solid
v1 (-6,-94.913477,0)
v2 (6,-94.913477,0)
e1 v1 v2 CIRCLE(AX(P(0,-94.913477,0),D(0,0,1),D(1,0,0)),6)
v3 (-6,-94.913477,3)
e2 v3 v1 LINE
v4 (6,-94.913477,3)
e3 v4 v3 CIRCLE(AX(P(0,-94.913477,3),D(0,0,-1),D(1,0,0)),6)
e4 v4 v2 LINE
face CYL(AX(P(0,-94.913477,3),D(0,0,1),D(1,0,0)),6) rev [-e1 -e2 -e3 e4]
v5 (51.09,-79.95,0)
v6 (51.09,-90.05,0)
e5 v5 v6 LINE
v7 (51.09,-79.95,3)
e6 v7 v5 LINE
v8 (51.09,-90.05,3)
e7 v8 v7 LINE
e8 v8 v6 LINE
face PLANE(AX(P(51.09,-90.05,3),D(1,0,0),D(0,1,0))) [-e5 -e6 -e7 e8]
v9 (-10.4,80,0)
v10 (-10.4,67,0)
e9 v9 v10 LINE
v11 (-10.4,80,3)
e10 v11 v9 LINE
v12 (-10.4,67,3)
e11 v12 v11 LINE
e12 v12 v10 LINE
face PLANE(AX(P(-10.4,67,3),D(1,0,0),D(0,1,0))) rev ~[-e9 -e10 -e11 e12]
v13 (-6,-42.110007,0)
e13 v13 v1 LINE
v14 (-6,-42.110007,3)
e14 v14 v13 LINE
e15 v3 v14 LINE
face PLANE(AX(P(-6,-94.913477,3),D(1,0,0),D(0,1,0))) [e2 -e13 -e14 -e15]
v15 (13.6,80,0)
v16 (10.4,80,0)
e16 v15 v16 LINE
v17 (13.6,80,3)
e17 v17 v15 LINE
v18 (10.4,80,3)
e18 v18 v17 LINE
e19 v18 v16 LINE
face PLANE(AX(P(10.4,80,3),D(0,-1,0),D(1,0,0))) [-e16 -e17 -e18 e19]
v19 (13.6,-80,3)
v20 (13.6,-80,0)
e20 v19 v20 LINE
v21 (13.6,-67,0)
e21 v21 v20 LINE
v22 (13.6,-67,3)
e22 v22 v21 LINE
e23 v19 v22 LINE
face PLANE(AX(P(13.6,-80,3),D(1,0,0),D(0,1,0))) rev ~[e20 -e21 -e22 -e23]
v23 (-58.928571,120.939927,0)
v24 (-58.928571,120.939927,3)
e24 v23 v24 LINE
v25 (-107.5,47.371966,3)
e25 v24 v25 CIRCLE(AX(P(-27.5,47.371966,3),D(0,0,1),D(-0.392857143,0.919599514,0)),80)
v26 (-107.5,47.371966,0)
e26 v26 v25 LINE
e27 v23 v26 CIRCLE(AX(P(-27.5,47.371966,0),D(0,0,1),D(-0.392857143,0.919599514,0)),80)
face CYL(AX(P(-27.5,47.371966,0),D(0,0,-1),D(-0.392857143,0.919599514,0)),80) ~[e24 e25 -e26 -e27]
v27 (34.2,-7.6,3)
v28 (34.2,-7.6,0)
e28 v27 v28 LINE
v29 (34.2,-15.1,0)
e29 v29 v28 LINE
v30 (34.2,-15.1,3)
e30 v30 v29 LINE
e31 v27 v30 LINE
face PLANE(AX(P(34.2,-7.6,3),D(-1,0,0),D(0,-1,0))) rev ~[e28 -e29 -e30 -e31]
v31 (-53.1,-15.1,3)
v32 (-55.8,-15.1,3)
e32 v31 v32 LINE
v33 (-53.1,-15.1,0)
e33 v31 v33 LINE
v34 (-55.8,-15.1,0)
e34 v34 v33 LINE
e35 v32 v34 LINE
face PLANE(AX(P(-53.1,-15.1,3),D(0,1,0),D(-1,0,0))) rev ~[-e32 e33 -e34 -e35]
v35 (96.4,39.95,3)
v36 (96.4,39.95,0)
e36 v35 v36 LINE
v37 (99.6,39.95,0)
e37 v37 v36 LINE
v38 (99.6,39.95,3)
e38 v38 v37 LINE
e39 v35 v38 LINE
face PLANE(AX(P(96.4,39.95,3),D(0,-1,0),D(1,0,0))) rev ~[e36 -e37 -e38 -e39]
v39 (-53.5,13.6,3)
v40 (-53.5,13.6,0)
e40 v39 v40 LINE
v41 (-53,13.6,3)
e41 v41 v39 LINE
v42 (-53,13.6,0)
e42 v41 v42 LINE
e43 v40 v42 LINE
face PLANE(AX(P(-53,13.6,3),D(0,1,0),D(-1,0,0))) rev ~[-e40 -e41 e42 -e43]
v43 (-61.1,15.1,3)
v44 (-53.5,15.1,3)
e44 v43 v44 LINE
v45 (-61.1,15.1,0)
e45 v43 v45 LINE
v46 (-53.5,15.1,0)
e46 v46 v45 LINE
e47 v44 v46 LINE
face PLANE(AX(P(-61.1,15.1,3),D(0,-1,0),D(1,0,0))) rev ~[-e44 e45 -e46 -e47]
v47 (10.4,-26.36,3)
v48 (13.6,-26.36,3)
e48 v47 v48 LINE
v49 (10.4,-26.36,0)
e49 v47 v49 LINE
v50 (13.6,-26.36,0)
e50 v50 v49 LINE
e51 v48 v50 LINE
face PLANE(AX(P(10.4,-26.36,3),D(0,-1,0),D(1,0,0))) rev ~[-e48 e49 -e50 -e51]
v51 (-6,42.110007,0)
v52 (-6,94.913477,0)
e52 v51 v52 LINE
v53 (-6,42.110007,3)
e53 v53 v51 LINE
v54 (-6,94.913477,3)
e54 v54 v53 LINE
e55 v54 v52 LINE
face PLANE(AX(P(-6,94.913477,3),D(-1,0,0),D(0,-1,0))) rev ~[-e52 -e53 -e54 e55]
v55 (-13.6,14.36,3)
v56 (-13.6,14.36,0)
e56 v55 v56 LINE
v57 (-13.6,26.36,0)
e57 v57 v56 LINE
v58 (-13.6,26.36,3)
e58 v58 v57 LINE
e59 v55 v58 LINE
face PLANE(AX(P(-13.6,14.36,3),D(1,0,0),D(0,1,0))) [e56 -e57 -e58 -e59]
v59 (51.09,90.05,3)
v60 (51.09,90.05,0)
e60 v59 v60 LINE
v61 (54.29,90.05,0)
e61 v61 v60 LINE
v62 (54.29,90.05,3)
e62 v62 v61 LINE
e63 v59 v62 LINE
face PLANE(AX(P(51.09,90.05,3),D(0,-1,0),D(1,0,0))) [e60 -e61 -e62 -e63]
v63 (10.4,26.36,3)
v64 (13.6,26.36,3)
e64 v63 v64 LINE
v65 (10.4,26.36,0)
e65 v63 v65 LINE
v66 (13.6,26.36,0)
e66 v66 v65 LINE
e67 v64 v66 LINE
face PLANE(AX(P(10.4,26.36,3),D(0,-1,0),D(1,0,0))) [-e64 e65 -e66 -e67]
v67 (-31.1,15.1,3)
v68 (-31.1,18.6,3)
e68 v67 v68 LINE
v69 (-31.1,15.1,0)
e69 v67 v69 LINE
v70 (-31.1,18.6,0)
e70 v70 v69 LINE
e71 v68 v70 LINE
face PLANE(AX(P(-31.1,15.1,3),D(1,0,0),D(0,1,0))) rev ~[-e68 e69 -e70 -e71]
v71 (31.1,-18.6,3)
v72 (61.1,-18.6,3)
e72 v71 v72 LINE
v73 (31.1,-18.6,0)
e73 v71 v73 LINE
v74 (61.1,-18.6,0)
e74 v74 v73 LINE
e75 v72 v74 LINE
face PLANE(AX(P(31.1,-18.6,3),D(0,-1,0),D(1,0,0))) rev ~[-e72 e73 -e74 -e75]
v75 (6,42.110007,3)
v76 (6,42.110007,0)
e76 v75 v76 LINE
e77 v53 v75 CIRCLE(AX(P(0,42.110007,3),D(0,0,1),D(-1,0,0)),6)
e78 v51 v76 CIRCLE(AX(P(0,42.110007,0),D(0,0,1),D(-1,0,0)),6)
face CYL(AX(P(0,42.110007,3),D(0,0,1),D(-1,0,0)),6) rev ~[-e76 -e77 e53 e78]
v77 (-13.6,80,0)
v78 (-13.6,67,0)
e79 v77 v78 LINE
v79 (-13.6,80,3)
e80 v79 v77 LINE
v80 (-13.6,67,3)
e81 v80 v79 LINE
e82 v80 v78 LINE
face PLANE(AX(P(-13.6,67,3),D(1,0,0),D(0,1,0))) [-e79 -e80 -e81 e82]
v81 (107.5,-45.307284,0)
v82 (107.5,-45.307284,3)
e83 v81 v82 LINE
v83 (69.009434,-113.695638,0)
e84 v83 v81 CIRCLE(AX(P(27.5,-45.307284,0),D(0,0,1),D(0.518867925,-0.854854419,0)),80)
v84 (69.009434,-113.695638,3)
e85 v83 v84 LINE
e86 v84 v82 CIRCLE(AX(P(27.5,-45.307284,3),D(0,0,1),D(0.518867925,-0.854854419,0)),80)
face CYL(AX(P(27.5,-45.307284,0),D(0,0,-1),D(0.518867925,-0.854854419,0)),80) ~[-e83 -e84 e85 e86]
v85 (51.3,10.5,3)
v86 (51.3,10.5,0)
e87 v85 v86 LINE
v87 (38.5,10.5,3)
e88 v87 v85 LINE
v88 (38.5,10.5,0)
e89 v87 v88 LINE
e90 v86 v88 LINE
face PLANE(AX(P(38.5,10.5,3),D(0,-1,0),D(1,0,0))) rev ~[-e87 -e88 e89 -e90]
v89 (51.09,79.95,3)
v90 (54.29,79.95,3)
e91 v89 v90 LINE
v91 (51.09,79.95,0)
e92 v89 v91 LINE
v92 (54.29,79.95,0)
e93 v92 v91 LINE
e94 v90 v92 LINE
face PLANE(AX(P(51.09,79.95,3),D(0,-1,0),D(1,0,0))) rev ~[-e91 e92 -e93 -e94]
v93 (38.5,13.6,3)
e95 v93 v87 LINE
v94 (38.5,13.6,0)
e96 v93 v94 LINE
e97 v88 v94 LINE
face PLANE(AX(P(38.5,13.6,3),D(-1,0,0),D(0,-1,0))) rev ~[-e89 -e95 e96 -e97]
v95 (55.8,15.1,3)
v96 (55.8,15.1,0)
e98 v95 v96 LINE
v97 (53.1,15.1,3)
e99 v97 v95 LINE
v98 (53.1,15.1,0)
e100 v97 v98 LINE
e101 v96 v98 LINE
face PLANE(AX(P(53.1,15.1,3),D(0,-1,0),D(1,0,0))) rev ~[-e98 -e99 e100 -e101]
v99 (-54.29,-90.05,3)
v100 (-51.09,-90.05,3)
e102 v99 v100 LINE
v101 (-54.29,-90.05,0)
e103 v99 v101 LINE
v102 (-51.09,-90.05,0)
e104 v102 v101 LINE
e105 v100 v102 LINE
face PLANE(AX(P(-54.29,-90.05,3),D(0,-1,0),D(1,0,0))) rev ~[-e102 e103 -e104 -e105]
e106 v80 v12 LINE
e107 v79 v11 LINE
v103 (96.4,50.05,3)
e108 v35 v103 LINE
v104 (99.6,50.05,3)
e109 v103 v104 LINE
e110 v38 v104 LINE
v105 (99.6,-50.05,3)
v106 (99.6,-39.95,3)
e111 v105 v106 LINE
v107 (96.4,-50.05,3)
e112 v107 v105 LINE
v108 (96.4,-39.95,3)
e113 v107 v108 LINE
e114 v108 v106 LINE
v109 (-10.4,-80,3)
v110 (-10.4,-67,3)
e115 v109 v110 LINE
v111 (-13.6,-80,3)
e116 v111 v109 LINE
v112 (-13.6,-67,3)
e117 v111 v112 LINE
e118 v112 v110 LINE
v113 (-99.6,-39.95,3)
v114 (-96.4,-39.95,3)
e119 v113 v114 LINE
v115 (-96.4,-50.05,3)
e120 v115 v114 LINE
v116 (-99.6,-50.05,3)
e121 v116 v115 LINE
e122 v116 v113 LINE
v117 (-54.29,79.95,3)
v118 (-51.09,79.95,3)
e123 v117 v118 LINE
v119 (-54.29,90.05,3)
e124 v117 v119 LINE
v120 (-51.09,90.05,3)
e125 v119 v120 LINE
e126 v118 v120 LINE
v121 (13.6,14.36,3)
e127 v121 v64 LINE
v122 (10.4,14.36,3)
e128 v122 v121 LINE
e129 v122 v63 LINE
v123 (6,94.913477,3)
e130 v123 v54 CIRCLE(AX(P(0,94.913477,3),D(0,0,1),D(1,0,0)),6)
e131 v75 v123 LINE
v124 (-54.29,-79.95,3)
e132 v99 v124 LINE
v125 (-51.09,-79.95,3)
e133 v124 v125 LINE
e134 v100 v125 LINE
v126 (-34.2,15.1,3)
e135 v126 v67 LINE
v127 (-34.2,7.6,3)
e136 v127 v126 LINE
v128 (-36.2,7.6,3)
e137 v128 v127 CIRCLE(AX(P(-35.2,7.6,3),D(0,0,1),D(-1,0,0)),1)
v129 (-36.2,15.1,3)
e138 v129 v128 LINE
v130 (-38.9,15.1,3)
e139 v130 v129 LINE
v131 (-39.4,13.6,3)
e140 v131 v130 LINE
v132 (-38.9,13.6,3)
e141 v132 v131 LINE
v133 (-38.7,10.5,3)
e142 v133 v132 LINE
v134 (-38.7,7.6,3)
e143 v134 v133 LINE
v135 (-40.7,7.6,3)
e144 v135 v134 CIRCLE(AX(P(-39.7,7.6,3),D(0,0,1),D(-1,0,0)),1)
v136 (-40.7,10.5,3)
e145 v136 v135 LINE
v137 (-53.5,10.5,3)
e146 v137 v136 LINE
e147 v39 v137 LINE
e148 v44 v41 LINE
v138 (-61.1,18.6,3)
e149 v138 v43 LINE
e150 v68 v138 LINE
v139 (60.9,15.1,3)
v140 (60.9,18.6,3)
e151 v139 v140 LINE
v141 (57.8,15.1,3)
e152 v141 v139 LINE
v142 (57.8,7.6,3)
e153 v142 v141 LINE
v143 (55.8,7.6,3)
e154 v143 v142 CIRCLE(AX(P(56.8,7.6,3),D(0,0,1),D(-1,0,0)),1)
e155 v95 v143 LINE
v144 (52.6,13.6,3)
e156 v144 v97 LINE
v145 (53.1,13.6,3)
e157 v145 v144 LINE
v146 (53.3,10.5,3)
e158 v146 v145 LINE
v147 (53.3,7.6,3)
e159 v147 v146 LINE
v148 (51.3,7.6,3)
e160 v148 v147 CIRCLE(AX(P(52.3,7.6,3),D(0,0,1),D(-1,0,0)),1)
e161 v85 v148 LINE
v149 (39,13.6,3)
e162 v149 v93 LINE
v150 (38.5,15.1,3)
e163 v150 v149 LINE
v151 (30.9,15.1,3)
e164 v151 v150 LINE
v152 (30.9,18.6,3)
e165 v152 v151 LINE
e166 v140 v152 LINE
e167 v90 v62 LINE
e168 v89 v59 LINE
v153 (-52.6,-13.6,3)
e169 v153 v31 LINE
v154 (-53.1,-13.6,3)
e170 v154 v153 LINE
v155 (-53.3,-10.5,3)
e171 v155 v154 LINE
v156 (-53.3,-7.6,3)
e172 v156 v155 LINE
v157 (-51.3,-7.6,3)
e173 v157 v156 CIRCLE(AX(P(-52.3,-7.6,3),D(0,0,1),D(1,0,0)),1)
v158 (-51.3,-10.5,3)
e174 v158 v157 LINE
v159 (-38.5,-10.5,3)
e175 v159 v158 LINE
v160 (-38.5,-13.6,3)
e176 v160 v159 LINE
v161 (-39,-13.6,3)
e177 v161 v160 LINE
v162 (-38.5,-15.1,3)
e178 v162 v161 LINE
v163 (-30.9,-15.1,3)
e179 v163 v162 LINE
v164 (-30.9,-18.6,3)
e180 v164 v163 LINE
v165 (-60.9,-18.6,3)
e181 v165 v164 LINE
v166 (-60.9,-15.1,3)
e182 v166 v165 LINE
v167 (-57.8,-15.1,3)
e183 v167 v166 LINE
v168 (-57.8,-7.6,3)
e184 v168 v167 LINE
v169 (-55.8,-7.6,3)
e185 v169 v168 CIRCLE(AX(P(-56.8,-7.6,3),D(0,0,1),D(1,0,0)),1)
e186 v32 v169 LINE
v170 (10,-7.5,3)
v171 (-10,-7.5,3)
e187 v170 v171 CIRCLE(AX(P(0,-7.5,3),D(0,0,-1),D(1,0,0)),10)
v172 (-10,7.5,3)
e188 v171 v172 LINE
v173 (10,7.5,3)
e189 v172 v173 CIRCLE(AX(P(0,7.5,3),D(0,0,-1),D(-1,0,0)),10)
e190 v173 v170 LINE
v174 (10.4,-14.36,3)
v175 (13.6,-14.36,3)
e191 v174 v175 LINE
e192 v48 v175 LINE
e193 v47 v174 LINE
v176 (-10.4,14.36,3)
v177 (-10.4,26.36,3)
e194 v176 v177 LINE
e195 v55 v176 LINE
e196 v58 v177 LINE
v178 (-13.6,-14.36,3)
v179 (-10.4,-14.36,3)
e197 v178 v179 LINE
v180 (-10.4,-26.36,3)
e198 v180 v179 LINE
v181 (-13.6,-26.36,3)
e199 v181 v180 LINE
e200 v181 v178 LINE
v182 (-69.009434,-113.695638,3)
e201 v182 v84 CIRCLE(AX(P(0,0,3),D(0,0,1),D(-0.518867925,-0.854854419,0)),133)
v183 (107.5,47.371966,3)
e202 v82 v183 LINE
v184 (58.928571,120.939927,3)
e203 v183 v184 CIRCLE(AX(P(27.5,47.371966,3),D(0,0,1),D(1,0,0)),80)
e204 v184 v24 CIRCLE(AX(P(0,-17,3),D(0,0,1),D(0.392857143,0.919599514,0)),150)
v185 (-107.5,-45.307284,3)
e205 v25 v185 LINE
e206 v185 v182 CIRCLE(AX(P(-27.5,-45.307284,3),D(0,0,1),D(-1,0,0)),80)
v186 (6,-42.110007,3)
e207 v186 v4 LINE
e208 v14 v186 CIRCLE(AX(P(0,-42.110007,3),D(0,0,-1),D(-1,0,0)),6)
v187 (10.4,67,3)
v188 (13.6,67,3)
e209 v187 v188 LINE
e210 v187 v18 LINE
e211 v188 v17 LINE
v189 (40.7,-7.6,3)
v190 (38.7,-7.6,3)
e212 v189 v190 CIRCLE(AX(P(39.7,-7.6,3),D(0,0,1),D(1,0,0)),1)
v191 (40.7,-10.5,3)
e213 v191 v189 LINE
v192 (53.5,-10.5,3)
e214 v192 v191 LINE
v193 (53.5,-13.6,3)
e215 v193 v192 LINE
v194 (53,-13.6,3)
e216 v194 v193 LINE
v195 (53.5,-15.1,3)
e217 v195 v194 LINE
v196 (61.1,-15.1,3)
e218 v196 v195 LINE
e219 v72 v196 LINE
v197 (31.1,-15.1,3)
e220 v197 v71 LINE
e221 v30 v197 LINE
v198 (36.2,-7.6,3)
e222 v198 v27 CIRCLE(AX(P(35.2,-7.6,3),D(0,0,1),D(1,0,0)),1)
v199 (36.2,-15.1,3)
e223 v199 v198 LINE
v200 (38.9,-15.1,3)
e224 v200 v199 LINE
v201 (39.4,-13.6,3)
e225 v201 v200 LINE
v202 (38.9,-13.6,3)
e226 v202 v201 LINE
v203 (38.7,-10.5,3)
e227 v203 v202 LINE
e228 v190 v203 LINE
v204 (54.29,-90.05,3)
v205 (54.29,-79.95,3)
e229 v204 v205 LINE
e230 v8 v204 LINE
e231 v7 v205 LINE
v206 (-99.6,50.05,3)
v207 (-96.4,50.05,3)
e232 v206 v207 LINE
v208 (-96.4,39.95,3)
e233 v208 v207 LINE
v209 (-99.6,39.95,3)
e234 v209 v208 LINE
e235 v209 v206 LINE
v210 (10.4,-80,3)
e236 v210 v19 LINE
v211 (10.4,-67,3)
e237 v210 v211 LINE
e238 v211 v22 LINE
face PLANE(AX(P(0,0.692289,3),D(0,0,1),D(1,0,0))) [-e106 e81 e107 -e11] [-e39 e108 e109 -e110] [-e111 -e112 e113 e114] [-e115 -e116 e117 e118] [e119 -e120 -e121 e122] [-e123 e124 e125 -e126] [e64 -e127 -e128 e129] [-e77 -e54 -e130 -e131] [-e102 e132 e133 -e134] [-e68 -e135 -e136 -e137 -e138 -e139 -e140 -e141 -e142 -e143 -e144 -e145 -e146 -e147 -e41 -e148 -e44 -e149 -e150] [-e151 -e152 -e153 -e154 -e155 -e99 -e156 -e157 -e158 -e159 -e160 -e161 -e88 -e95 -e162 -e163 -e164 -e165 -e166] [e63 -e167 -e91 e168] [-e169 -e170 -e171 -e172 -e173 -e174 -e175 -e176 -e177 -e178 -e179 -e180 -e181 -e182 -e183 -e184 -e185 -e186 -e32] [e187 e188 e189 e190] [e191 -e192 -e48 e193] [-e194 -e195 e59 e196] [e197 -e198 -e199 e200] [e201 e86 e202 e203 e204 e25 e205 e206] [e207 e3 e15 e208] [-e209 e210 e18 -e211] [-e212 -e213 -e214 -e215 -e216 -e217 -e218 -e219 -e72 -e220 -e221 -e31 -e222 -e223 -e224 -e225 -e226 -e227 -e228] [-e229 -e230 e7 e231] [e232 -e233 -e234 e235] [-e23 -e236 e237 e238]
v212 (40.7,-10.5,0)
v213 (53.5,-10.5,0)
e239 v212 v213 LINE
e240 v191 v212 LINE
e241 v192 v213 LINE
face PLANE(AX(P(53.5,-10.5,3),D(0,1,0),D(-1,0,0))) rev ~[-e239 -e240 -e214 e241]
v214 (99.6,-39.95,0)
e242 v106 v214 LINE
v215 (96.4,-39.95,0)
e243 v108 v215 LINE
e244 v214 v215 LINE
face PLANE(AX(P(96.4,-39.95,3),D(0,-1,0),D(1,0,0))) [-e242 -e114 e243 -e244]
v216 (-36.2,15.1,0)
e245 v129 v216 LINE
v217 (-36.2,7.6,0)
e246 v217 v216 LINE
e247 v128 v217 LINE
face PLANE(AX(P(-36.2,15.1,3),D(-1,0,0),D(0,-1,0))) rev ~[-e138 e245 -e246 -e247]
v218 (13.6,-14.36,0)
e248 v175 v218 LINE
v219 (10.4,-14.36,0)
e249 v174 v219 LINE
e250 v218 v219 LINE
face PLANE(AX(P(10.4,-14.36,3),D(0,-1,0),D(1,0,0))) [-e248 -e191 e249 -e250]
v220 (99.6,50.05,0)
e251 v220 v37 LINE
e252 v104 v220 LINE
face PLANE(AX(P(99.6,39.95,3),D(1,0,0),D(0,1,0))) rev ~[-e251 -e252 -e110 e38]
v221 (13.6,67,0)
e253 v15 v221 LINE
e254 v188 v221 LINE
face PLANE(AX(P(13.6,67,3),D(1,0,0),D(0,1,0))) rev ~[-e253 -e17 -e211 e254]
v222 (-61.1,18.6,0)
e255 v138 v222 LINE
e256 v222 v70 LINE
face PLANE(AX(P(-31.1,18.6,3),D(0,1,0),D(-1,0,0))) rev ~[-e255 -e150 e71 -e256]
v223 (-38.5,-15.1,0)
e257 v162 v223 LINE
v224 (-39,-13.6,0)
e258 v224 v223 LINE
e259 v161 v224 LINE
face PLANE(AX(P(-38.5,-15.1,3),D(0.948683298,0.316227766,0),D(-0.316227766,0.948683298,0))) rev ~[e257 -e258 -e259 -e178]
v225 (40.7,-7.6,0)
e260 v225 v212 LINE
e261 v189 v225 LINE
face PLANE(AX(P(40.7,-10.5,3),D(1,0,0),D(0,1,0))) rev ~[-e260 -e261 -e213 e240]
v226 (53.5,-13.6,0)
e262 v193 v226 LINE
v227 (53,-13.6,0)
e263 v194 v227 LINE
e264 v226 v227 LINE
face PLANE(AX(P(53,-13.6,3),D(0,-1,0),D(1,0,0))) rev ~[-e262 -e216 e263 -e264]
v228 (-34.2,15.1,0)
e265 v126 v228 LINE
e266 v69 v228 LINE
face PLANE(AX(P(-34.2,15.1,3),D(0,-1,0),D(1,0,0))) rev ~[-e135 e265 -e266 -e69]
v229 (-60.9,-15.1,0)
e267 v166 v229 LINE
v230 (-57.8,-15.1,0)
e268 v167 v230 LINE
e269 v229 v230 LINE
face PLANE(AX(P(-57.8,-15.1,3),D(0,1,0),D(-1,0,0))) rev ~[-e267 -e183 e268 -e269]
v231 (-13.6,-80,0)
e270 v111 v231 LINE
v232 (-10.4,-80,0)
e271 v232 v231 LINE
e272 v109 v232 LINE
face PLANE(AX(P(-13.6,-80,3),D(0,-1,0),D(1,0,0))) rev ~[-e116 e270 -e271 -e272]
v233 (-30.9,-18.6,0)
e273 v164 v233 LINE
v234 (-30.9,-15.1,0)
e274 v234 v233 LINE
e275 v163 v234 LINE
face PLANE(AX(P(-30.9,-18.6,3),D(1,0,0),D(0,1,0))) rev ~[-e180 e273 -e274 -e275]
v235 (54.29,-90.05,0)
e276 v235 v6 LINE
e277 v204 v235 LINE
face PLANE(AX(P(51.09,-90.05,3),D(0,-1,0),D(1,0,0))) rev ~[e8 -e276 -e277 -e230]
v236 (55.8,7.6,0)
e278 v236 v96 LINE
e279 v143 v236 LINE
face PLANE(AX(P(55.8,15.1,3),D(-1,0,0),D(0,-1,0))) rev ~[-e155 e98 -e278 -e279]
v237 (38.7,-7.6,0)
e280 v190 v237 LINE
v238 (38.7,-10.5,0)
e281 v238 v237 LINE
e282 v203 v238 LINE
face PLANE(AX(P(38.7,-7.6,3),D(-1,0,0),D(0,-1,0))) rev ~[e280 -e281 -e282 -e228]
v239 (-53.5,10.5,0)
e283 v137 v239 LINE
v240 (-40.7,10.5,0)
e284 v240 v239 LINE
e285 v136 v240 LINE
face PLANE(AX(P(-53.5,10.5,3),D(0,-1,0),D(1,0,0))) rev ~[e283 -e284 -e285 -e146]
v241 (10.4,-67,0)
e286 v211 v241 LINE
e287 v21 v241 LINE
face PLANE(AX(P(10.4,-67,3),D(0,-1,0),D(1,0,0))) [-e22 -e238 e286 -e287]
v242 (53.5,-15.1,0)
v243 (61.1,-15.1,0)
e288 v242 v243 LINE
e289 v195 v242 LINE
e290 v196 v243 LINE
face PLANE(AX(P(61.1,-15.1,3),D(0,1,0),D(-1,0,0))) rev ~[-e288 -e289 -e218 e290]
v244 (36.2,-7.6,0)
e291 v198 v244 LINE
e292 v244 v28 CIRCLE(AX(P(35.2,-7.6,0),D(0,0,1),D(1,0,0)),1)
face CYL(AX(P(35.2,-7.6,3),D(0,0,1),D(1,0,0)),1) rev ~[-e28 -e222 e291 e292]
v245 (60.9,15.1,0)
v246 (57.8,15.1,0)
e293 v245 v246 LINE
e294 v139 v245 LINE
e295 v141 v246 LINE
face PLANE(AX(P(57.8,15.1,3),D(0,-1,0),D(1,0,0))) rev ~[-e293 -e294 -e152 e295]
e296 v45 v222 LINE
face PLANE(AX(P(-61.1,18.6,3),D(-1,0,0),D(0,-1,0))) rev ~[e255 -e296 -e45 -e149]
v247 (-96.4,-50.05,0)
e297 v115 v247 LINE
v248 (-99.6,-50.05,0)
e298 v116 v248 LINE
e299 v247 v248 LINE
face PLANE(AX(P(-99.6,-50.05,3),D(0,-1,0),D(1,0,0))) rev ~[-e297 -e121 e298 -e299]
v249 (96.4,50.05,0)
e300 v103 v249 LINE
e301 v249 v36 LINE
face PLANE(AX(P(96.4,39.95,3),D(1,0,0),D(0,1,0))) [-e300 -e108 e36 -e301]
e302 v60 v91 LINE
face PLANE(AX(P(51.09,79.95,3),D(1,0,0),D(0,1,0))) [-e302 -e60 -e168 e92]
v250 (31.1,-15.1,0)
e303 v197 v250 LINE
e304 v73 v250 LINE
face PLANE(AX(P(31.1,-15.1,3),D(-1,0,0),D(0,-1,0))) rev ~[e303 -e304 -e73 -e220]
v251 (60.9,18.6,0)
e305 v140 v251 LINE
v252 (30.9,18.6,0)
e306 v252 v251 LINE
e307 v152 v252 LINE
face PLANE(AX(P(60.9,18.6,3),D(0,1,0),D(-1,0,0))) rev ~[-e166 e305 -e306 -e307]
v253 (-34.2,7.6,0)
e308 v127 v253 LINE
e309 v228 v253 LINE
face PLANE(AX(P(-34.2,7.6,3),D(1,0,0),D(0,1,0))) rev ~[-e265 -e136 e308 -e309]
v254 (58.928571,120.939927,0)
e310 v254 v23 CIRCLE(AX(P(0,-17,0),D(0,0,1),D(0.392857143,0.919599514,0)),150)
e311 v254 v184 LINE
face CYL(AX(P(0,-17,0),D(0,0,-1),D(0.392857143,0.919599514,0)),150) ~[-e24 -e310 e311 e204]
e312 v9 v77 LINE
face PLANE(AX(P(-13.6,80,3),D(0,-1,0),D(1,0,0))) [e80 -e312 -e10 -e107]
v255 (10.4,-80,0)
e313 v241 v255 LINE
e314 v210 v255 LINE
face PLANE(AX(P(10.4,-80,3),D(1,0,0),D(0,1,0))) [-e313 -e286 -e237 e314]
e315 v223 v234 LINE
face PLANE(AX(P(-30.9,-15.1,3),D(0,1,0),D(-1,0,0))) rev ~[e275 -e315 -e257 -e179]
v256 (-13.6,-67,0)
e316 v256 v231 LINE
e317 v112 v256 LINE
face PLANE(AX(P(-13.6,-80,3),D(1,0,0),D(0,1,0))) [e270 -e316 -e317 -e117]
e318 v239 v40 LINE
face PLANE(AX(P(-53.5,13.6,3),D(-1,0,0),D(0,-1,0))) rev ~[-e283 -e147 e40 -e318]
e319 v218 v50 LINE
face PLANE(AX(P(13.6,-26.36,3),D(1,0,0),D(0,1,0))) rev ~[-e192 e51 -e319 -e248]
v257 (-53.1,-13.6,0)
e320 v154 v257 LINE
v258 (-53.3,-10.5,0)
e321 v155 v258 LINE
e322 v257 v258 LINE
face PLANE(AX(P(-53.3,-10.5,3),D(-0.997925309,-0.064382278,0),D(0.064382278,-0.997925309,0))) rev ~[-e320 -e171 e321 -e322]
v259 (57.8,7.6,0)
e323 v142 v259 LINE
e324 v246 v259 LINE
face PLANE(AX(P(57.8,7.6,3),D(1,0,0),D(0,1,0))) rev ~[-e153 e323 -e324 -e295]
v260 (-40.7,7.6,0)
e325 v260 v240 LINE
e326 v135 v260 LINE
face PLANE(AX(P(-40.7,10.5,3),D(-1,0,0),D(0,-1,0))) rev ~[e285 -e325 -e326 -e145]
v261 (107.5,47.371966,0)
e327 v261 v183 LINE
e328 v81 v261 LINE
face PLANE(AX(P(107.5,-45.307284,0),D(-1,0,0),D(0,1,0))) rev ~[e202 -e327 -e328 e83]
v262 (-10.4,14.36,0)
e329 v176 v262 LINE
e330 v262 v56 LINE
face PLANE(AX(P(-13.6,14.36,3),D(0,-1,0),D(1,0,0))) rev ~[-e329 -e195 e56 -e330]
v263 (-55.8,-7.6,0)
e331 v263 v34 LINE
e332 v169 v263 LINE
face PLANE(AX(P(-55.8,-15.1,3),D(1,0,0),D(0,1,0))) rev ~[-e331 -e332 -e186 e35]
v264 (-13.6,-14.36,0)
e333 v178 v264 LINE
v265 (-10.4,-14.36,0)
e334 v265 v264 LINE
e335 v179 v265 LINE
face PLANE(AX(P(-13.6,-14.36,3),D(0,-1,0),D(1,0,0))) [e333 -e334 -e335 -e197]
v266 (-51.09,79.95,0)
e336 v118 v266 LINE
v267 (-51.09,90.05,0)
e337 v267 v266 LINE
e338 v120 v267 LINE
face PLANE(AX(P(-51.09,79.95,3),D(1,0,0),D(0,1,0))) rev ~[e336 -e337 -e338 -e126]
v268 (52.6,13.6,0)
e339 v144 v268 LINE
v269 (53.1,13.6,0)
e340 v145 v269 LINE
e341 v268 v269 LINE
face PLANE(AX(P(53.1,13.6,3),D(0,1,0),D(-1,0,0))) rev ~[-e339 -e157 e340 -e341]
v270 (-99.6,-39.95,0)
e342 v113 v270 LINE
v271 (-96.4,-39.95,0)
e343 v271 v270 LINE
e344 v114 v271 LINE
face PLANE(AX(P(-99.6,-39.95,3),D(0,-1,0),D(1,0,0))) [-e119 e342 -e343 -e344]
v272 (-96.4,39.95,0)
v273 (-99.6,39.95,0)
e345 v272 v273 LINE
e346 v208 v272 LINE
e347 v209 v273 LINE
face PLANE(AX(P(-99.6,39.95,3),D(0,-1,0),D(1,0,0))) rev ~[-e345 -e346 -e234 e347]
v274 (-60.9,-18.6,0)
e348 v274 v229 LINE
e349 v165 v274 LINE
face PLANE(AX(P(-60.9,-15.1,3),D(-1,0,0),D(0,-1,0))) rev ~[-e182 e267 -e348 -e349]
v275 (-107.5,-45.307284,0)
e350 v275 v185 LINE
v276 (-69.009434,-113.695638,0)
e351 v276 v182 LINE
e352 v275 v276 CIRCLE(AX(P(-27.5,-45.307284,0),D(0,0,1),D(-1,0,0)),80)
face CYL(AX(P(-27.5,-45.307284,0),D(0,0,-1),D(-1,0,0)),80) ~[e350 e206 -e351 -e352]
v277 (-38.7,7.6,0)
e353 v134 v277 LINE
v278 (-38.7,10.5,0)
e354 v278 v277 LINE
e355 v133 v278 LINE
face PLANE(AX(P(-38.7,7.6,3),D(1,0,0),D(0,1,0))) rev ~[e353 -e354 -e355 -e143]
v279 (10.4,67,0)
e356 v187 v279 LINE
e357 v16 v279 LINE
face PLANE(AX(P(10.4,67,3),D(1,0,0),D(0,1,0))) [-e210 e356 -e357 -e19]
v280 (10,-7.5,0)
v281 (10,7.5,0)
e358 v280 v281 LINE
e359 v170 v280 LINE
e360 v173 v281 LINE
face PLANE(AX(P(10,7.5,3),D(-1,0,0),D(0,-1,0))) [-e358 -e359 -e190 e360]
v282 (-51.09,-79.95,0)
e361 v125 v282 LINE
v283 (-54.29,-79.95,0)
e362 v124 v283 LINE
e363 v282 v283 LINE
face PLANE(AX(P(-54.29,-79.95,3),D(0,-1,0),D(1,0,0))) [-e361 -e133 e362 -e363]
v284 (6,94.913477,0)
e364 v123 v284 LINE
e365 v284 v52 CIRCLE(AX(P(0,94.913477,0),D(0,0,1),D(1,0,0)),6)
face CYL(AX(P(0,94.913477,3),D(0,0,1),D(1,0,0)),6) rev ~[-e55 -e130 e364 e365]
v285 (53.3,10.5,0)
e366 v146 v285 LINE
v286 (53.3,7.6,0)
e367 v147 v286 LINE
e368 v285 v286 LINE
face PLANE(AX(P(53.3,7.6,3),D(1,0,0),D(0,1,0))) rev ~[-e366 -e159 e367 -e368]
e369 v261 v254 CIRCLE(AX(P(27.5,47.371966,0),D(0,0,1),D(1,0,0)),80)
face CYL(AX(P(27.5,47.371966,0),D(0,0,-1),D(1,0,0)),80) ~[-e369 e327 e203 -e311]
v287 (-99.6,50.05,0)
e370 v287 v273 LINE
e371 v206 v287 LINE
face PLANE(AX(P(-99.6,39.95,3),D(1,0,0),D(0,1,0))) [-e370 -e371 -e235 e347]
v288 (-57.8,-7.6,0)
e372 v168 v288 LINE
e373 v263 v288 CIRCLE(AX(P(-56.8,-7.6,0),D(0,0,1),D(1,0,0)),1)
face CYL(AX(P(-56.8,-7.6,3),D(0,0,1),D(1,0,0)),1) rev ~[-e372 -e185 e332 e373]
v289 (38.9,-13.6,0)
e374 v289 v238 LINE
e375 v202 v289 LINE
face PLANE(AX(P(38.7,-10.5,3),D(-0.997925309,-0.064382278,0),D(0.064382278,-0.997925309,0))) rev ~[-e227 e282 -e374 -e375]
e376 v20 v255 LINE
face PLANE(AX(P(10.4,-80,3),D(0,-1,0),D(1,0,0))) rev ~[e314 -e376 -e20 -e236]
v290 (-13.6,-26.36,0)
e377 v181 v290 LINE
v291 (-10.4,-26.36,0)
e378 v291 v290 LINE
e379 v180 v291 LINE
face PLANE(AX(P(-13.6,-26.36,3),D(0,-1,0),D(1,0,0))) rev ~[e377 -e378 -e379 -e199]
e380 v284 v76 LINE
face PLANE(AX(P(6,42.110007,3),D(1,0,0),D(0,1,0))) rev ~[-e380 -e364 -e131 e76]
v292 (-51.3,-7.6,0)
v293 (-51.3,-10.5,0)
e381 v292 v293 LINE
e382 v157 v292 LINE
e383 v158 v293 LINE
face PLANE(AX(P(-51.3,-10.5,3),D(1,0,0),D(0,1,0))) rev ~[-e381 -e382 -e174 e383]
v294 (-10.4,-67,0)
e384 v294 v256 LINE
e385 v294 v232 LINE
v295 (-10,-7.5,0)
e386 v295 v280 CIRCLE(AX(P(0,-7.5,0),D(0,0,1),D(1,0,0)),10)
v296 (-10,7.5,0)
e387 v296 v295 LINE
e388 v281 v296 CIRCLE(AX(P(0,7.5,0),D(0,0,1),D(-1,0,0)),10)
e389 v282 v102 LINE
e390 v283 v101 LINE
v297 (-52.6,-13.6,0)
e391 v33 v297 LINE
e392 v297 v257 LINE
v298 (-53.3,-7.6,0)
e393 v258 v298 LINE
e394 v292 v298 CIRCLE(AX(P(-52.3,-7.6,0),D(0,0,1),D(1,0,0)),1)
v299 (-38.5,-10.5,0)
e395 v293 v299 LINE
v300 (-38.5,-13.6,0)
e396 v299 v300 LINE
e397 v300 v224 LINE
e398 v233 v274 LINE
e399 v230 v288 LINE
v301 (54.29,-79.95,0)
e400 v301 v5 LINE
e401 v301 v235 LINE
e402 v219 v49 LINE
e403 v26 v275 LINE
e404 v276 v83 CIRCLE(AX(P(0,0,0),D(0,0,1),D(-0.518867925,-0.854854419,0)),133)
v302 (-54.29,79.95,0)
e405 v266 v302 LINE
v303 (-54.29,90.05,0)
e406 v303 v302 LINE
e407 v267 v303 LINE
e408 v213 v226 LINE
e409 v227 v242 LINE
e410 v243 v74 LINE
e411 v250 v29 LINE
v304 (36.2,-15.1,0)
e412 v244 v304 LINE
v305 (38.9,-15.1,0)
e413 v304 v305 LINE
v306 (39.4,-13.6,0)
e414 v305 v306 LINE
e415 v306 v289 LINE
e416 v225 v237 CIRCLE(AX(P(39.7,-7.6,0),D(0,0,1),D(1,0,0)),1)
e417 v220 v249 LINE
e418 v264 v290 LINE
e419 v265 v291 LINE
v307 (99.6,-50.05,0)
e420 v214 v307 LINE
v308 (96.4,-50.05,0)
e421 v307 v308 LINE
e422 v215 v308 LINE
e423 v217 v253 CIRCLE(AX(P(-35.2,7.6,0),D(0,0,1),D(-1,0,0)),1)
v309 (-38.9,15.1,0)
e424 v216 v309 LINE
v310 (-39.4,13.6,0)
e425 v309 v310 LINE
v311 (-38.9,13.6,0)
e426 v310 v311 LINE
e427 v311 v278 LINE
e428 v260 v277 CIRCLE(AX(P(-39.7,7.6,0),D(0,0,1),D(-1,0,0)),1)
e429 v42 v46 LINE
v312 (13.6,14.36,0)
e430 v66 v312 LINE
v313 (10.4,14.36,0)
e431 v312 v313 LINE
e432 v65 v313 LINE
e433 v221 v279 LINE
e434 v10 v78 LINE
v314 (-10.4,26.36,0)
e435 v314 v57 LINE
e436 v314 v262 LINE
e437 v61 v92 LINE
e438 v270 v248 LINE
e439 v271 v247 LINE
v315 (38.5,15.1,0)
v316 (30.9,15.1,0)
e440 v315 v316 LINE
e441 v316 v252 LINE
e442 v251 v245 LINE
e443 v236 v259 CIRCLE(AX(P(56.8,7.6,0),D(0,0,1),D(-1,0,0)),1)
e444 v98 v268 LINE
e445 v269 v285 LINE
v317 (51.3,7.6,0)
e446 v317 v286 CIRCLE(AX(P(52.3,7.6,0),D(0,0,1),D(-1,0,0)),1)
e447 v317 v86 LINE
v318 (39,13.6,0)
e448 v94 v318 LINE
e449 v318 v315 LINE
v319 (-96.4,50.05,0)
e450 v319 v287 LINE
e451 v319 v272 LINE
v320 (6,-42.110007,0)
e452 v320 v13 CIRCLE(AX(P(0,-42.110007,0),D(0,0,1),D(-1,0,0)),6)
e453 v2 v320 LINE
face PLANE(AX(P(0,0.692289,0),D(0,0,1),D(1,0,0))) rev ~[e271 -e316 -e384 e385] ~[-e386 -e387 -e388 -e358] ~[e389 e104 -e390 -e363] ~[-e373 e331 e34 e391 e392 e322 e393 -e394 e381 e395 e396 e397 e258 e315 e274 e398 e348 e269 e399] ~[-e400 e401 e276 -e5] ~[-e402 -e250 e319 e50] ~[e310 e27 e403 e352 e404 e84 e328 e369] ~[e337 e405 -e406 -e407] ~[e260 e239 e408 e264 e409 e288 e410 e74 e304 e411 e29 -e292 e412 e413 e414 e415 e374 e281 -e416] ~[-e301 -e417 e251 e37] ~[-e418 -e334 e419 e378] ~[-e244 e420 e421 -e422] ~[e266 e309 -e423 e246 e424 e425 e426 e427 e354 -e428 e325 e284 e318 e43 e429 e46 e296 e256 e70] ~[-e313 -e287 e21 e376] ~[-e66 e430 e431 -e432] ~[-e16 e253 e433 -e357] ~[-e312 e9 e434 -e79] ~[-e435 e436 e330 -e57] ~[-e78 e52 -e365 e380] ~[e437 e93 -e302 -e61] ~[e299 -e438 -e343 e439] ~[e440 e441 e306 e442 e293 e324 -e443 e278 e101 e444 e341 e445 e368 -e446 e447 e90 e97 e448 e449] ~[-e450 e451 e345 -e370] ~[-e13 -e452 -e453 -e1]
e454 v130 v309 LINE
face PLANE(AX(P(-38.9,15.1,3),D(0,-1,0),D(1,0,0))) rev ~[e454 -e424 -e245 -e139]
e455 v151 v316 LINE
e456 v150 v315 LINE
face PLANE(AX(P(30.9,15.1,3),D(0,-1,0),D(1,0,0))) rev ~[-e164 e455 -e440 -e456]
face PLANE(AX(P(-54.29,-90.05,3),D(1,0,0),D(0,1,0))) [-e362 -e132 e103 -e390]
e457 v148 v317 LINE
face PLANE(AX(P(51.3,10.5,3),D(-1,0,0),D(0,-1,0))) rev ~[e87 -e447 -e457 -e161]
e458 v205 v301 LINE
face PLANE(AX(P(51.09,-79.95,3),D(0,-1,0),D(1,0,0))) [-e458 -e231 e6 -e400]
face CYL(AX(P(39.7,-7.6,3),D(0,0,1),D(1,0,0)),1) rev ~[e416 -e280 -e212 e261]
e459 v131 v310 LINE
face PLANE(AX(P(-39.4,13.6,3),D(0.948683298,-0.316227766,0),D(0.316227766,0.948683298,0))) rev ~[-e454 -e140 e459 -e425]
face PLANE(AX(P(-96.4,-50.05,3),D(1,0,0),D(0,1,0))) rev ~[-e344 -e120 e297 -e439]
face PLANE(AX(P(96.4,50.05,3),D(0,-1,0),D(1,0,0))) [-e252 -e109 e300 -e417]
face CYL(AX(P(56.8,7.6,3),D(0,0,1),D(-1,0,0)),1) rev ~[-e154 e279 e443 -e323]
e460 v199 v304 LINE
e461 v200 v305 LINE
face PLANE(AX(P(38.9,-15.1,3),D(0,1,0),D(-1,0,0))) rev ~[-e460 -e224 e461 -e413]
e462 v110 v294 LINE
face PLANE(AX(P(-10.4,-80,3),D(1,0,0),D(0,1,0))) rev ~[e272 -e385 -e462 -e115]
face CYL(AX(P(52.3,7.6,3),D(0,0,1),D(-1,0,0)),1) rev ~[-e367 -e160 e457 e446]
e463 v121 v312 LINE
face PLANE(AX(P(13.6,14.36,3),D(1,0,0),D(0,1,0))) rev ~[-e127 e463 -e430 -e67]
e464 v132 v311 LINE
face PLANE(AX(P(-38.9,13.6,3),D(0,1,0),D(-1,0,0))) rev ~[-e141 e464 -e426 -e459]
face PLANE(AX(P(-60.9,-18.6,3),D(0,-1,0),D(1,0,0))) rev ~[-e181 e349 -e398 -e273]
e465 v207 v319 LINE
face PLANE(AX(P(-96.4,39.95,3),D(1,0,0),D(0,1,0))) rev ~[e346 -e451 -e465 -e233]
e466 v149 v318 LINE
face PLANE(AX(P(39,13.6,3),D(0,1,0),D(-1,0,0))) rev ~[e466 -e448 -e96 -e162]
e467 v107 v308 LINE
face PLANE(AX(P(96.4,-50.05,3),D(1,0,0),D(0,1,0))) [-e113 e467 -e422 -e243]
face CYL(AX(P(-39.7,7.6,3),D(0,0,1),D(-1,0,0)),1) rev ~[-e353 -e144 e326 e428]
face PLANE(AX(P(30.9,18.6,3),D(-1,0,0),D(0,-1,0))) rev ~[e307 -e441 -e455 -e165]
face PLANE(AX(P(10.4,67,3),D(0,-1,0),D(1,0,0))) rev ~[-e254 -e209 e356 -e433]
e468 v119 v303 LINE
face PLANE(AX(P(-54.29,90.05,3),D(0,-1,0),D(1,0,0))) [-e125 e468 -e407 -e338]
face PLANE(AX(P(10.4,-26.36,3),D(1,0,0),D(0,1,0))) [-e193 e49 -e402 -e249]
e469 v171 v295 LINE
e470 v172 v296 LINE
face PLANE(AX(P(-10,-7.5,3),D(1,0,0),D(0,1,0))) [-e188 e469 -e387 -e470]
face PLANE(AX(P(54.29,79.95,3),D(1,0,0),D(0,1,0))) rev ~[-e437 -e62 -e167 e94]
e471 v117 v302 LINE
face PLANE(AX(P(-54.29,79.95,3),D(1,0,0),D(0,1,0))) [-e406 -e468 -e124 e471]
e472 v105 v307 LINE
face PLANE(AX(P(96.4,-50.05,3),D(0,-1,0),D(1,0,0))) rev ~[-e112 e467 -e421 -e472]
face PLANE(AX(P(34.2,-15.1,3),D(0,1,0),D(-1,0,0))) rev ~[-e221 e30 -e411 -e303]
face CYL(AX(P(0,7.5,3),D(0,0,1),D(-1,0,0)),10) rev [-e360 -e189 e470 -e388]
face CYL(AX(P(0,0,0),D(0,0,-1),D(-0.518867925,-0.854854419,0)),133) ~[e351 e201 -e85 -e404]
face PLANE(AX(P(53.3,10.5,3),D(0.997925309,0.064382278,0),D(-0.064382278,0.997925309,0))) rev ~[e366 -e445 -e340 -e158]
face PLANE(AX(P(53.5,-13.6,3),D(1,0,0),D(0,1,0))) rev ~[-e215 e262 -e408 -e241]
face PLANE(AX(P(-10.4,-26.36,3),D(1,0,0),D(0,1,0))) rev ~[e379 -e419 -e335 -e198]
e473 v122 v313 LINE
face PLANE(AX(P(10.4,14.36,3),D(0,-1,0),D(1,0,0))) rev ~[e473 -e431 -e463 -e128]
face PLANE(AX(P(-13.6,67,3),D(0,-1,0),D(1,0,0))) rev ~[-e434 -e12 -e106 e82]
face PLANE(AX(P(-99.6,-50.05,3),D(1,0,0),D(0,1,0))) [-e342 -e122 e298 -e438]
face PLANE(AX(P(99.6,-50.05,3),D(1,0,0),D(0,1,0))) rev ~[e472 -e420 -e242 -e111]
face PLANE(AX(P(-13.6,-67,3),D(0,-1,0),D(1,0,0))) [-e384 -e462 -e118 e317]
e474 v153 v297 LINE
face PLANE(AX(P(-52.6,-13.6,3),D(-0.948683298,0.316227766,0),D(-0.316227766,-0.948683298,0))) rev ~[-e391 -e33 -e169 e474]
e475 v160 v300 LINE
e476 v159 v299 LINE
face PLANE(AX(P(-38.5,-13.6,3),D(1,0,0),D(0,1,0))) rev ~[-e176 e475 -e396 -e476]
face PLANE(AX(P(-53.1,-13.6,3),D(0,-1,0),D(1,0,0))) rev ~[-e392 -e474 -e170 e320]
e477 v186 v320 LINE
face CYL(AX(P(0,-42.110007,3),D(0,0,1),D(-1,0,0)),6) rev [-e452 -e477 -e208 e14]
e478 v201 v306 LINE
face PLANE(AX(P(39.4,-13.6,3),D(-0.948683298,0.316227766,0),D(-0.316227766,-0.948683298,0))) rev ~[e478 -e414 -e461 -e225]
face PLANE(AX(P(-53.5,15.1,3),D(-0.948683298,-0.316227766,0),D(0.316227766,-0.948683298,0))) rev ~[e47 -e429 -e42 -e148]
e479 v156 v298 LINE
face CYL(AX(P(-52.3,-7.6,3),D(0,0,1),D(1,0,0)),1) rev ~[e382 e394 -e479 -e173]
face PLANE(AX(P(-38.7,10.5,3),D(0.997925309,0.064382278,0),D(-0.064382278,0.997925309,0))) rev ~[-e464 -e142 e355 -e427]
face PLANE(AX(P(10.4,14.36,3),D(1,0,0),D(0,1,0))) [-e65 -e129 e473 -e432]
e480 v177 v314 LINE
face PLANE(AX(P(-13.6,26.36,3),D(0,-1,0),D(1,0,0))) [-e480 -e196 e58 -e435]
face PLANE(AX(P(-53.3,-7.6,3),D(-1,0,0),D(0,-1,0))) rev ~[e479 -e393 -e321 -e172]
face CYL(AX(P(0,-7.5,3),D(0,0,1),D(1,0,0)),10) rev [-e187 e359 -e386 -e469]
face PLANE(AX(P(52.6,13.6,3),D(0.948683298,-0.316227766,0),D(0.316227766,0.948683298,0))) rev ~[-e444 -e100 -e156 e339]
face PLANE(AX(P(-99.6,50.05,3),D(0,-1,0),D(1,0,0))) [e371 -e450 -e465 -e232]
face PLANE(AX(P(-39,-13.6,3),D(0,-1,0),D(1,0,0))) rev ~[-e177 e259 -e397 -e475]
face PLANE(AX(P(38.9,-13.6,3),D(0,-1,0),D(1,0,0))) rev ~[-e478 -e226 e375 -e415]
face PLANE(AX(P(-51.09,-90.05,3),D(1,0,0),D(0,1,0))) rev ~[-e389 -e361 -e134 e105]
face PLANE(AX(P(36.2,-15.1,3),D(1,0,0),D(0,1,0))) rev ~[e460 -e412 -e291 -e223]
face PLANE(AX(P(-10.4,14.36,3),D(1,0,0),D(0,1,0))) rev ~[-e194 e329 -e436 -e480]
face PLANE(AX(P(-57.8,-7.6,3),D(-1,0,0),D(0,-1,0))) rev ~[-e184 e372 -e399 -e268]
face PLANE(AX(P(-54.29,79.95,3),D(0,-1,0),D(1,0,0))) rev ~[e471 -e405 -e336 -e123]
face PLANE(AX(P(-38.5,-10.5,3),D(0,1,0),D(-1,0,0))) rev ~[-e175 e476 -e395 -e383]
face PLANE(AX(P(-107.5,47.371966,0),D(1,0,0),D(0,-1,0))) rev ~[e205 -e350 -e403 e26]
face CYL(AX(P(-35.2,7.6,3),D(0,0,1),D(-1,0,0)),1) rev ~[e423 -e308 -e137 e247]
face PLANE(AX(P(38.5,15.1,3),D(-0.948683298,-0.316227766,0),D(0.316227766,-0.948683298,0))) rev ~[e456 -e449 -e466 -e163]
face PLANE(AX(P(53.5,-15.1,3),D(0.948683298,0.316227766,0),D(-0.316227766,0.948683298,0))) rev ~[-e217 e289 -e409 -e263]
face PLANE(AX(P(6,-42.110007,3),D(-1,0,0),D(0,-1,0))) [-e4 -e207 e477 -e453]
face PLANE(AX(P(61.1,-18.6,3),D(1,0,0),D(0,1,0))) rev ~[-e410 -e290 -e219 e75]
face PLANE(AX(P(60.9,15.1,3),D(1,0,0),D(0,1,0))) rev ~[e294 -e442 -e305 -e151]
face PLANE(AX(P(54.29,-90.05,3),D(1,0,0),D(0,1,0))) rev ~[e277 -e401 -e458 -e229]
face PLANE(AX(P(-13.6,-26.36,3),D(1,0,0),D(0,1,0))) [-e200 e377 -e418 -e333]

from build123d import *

# Parameters (mm, degrees)
BOSS_EXTRUDE1_DEPTH        = 3
SPINE_T_SLOTS_REACH        = 173.039
SPINE_MOUNTING_SLOTS_REACH = 173.039
SKETCH2_W                  = 3.2
SKETCH2_H                  = 12
SKETCH2_H_2                = 13
SIDE_PLATE_SLOTS_REACH     = 173.039
SKETCH5_W                  = 3.2
SKETCH5_H                  = 10.1
LINKAGE_CLEARANCE_REACH    = 173.039


with BuildPart() as part:
    # Sketch1 → Boss-Extrude1 (new body)
    with BuildSketch(Plane.XY):
        with BuildLine():
            Line((107.5, -45.307284183), (107.5, 47.371965948))
            ThreePointArc((107.5, 47.371965948), (94.261836832, 91.449819149), (58.928571429, 120.939927031))
            ThreePointArc((58.928571429, 120.939927031), (0, 133), (-58.928571429, 120.939927031))
            ThreePointArc((-58.928571429, 120.939927031), (-94.261836832, 91.449819149), (-107.5, 47.371965948))
            Line((-107.5, 47.371965948), (-107.5, -45.307284183))
            ThreePointArc((-107.5, -45.307284183), (-97.216406667, -84.545309636), (-69.009433962, -113.695637666))
            ThreePointArc((-69.009433962, -113.695637666), (0, -133), (69.009433962, -113.695637666))
            ThreePointArc((69.009433962, -113.695637666), (97.216406667, -84.545309636), (107.5, -45.307284183))
        make_face()
    extrude(amount=BOSS_EXTRUDE1_DEPTH)

    # Sketch4 → spine T-slots (cut, up to next)
    with BuildSketch(Plane.XY.offset(3), mode=Mode.PRIVATE) as spine_t_slots_sk1:
        with BuildLine():
            Line((60.9, 18.6), (30.9, 18.6))
            Line((30.9, 18.6), (30.9, 15.1))
            Line((30.9, 15.1), (38.5, 15.1))
            Line((38.5, 15.1), (39, 13.6))
            Line((39, 13.6), (38.5, 13.6))
            Line((38.5, 13.6), (38.5, 10.5))
            Line((38.5, 10.5), (51.3, 10.5))
            Line((51.3, 10.5), (51.3, 7.6))
            ThreePointArc((51.3, 7.6), (52.3, 6.6), (53.3, 7.6))
            Line((53.3, 7.6), (53.3, 10.5))
            Line((53.3, 10.5), (53.1, 13.6))
            Line((53.1, 13.6), (52.6, 13.6))
            Line((52.6, 13.6), (53.1, 15.1))
            Line((53.1, 15.1), (55.8, 15.1))
            Line((55.8, 15.1), (55.8, 7.6))
            ThreePointArc((55.8, 7.6), (56.8, 6.6), (57.8, 7.6))
            Line((57.8, 7.6), (57.8, 15.1))
            Line((57.8, 15.1), (60.9, 15.1))
            Line((60.9, 15.1), (60.9, 18.6))
        make_face()
    spine_t_slots_tool1 = extrude(spine_t_slots_sk1.sketch, amount=-SPINE_T_SLOTS_REACH, mode=Mode.PRIVATE) & part.part
    # Sketch4 → spine T-slots (cut, up to next)
    with BuildSketch(Plane.XY.offset(3), mode=Mode.PRIVATE) as spine_t_slots_sk2:
        with BuildLine():
            Line((31.1, -18.6), (61.1, -18.6))
            Line((61.1, -18.6), (61.1, -15.1))
            Line((61.1, -15.1), (53.5, -15.1))
            Line((53.5, -15.1), (53, -13.6))
            Line((53, -13.6), (53.5, -13.6))
            Line((53.5, -13.6), (53.5, -10.5))
            Line((53.5, -10.5), (40.7, -10.5))
            Line((40.7, -10.5), (40.7, -7.6))
            ThreePointArc((40.7, -7.6), (39.7, -6.6), (38.7, -7.6))
            Line((38.7, -7.6), (38.7, -10.5))
            Line((38.7, -10.5), (38.9, -13.6))
            Line((38.9, -13.6), (39.4, -13.6))
            Line((39.4, -13.6), (38.9, -15.1))
            Line((38.9, -15.1), (36.2, -15.1))
            Line((36.2, -15.1), (36.2, -7.6))
            ThreePointArc((36.2, -7.6), (35.2, -6.6), (34.2, -7.6))
            Line((34.2, -7.6), (34.2, -15.1))
            Line((34.2, -15.1), (31.1, -15.1))
            Line((31.1, -15.1), (31.1, -18.6))
        make_face()
    spine_t_slots_tool2 = extrude(spine_t_slots_sk2.sketch, amount=-SPINE_T_SLOTS_REACH, mode=Mode.PRIVATE) & part.part
    # Sketch4 → spine T-slots (cut, up to next)
    with BuildSketch(Plane.XY.offset(3), mode=Mode.PRIVATE) as spine_t_slots_sk3:
        with BuildLine():
            Line((-60.9, -18.6), (-30.9, -18.6))
            Line((-30.9, -18.6), (-30.9, -15.1))
            Line((-30.9, -15.1), (-38.5, -15.1))
            Line((-38.5, -15.1), (-39, -13.6))
            Line((-39, -13.6), (-38.5, -13.6))
            Line((-38.5, -13.6), (-38.5, -10.5))
            Line((-38.5, -10.5), (-51.3, -10.5))
            Line((-51.3, -10.5), (-51.3, -7.6))
            ThreePointArc((-51.3, -7.6), (-52.3, -6.6), (-53.3, -7.6))
            Line((-53.3, -7.6), (-53.3, -10.5))
            Line((-53.3, -10.5), (-53.1, -13.6))
            Line((-53.1, -13.6), (-52.6, -13.6))
            Line((-52.6, -13.6), (-53.1, -15.1))
            Line((-53.1, -15.1), (-55.8, -15.1))
            Line((-55.8, -15.1), (-55.8, -7.6))
            ThreePointArc((-55.8, -7.6), (-56.8, -6.6), (-57.8, -7.6))
            Line((-57.8, -7.6), (-57.8, -15.1))
            Line((-57.8, -15.1), (-60.9, -15.1))
            Line((-60.9, -15.1), (-60.9, -18.6))
        make_face()
    spine_t_slots_tool3 = extrude(spine_t_slots_sk3.sketch, amount=-SPINE_T_SLOTS_REACH, mode=Mode.PRIVATE) & part.part
    # Sketch4 → spine T-slots (cut, up to next)
    with BuildSketch(Plane.XY.offset(3), mode=Mode.PRIVATE) as spine_t_slots_sk4:
        with BuildLine():
            Line((-31.1, 18.6), (-61.1, 18.6))
            Line((-61.1, 18.6), (-61.1, 15.1))
            Line((-61.1, 15.1), (-53.5, 15.1))
            Line((-53.5, 15.1), (-53, 13.6))
            Line((-53, 13.6), (-53.5, 13.6))
            Line((-53.5, 13.6), (-53.5, 10.5))
            Line((-53.5, 10.5), (-40.7, 10.5))
            Line((-40.7, 10.5), (-40.7, 7.6))
            ThreePointArc((-40.7, 7.6), (-39.7, 6.6), (-38.7, 7.6))
            Line((-38.7, 7.6), (-38.7, 10.5))
            Line((-38.7, 10.5), (-38.9, 13.6))
            Line((-38.9, 13.6), (-39.4, 13.6))
            Line((-39.4, 13.6), (-38.9, 15.1))
            Line((-38.9, 15.1), (-36.2, 15.1))
            Line((-36.2, 15.1), (-36.2, 7.6))
            ThreePointArc((-36.2, 7.6), (-35.2, 6.6), (-34.2, 7.6))
            Line((-34.2, 7.6), (-34.2, 15.1))
            Line((-34.2, 15.1), (-31.1, 15.1))
            Line((-31.1, 15.1), (-31.1, 18.6))
        make_face()
    spine_t_slots_tool4 = extrude(spine_t_slots_sk4.sketch, amount=-SPINE_T_SLOTS_REACH, mode=Mode.PRIVATE) & part.part
    add(spine_t_slots_tool1.solids().sort_by_distance((47.0418, 14.653776, 3))[0], mode=Mode.SUBTRACT)
    add(spine_t_slots_tool2.solids().sort_by_distance((44.9582, -14.653776, 3))[0], mode=Mode.SUBTRACT)
    add(spine_t_slots_tool3.solids().sort_by_distance((-47.0418, -14.653776, 3))[0], mode=Mode.SUBTRACT)
    add(spine_t_slots_tool4.solids().sort_by_distance((-44.9582, 14.653776, 3))[0], mode=Mode.SUBTRACT)

    # Sketch2 → spine mounting slots (cut, up to next)
    with BuildSketch(Plane.XY.offset(3), mode=Mode.PRIVATE) as spine_mounting_slots_sk1:
        with Locations((12, 20.36)):
            Rectangle(SKETCH2_W, SKETCH2_H)
    spine_mounting_slots_tool1 = extrude(spine_mounting_slots_sk1.sketch, amount=-SPINE_MOUNTING_SLOTS_REACH, mode=Mode.PRIVATE) & part.part
    # Sketch2 → spine mounting slots (cut, up to next)
    with BuildSketch(Plane.XY.offset(3), mode=Mode.PRIVATE) as spine_mounting_slots_sk2:
        with Locations((12, 73.5)):
            Rectangle(SKETCH2_W, SKETCH2_H_2)
    spine_mounting_slots_tool2 = extrude(spine_mounting_slots_sk2.sketch, amount=-SPINE_MOUNTING_SLOTS_REACH, mode=Mode.PRIVATE) & part.part
    # Sketch2 → spine mounting slots (cut, up to next)
    with BuildSketch(Plane.XY.offset(3), mode=Mode.PRIVATE) as spine_mounting_slots_sk3:
        with Locations((-12, 73.5)):
            Rectangle(SKETCH2_W, SKETCH2_H_2)
    spine_mounting_slots_tool3 = extrude(spine_mounting_slots_sk3.sketch, amount=-SPINE_MOUNTING_SLOTS_REACH, mode=Mode.PRIVATE) & part.part
    # Sketch2 → spine mounting slots (cut, up to next)
    with BuildSketch(Plane.XY.offset(3), mode=Mode.PRIVATE) as spine_mounting_slots_sk4:
        with Locations((-12, 20.36)):
            Rectangle(SKETCH2_W, SKETCH2_H)
    spine_mounting_slots_tool4 = extrude(spine_mounting_slots_sk4.sketch, amount=-SPINE_MOUNTING_SLOTS_REACH, mode=Mode.PRIVATE) & part.part
    # Sketch2 → spine mounting slots (cut, up to next)
    with BuildSketch(Plane.XY.offset(3), mode=Mode.PRIVATE) as spine_mounting_slots_sk5:
        with Locations((-12, -20.36)):
            Rectangle(SKETCH2_W, SKETCH2_H)
    spine_mounting_slots_tool5 = extrude(spine_mounting_slots_sk5.sketch, amount=-SPINE_MOUNTING_SLOTS_REACH, mode=Mode.PRIVATE) & part.part
    # Sketch2 → spine mounting slots (cut, up to next)
    with BuildSketch(Plane.XY.offset(3), mode=Mode.PRIVATE) as spine_mounting_slots_sk6:
        with Locations((-12, -73.5)):
            Rectangle(SKETCH2_W, SKETCH2_H_2)
    spine_mounting_slots_tool6 = extrude(spine_mounting_slots_sk6.sketch, amount=-SPINE_MOUNTING_SLOTS_REACH, mode=Mode.PRIVATE) & part.part
    # Sketch2 → spine mounting slots (cut, up to next)
    with BuildSketch(Plane.XY.offset(3), mode=Mode.PRIVATE) as spine_mounting_slots_sk7:
        with Locations((12, -73.5)):
            Rectangle(SKETCH2_W, SKETCH2_H_2)
    spine_mounting_slots_tool7 = extrude(spine_mounting_slots_sk7.sketch, amount=-SPINE_MOUNTING_SLOTS_REACH, mode=Mode.PRIVATE) & part.part
    # Sketch2 → spine mounting slots (cut, up to next)
    with BuildSketch(Plane.XY.offset(3), mode=Mode.PRIVATE) as spine_mounting_slots_sk8:
        with Locations((12, -20.36)):
            Rectangle(SKETCH2_W, SKETCH2_H)
    spine_mounting_slots_tool8 = extrude(spine_mounting_slots_sk8.sketch, amount=-SPINE_MOUNTING_SLOTS_REACH, mode=Mode.PRIVATE) & part.part
    add(spine_mounting_slots_tool1.solids().sort_by_distance((12, 20.36, 3))[0], mode=Mode.SUBTRACT)
    add(spine_mounting_slots_tool2.solids().sort_by_distance((12, 73.5, 3))[0], mode=Mode.SUBTRACT)
    add(spine_mounting_slots_tool3.solids().sort_by_distance((-12, 73.5, 3))[0], mode=Mode.SUBTRACT)
    add(spine_mounting_slots_tool4.solids().sort_by_distance((-12, 20.36, 3))[0], mode=Mode.SUBTRACT)
    add(spine_mounting_slots_tool5.solids().sort_by_distance((-12, -20.36, 3))[0], mode=Mode.SUBTRACT)
    add(spine_mounting_slots_tool6.solids().sort_by_distance((-12, -73.5, 3))[0], mode=Mode.SUBTRACT)
    add(spine_mounting_slots_tool7.solids().sort_by_distance((12, -73.5, 3))[0], mode=Mode.SUBTRACT)
    add(spine_mounting_slots_tool8.solids().sort_by_distance((12, -20.36, 3))[0], mode=Mode.SUBTRACT)

    # Sketch5 → side plate slots (cut, up to next)
    with BuildSketch(Plane.XY.offset(3), mode=Mode.PRIVATE) as side_plate_slots_sk1:
        with Locations((52.69, 85)):
            Rectangle(SKETCH5_W, SKETCH5_H)
    side_plate_slots_tool1 = extrude(side_plate_slots_sk1.sketch, amount=-SIDE_PLATE_SLOTS_REACH, mode=Mode.PRIVATE) & part.part
    # Sketch5 → side plate slots (cut, up to next)
    with BuildSketch(Plane.XY.offset(3), mode=Mode.PRIVATE) as side_plate_slots_sk2:
        with Locations((52.69, -85)):
            Rectangle(SKETCH5_W, SKETCH5_H)
    side_plate_slots_tool2 = extrude(side_plate_slots_sk2.sketch, amount=-SIDE_PLATE_SLOTS_REACH, mode=Mode.PRIVATE) & part.part
    # Sketch5 → side plate slots (cut, up to next)
    with BuildSketch(Plane.XY.offset(3), mode=Mode.PRIVATE) as side_plate_slots_sk3:
        with Locations((-52.69, 85)):
            Rectangle(SKETCH5_W, SKETCH5_H)
    side_plate_slots_tool3 = extrude(side_plate_slots_sk3.sketch, amount=-SIDE_PLATE_SLOTS_REACH, mode=Mode.PRIVATE) & part.part
    # Sketch5 → side plate slots (cut, up to next)
    with BuildSketch(Plane.XY.offset(3), mode=Mode.PRIVATE) as side_plate_slots_sk4:
        with Locations((-52.69, -85)):
            Rectangle(SKETCH5_W, SKETCH5_H)
    side_plate_slots_tool4 = extrude(side_plate_slots_sk4.sketch, amount=-SIDE_PLATE_SLOTS_REACH, mode=Mode.PRIVATE) & part.part
    # Sketch5 → side plate slots (cut, up to next)
    with BuildSketch(Plane.XY.offset(3), mode=Mode.PRIVATE) as side_plate_slots_sk5:
        with Locations((98, 45)):
            Rectangle(SKETCH5_W, SKETCH5_H)
    side_plate_slots_tool5 = extrude(side_plate_slots_sk5.sketch, amount=-SIDE_PLATE_SLOTS_REACH, mode=Mode.PRIVATE) & part.part
    # Sketch5 → side plate slots (cut, up to next)
    with BuildSketch(Plane.XY.offset(3), mode=Mode.PRIVATE) as side_plate_slots_sk6:
        with Locations((98, -45)):
            Rectangle(SKETCH5_W, SKETCH5_H)
    side_plate_slots_tool6 = extrude(side_plate_slots_sk6.sketch, amount=-SIDE_PLATE_SLOTS_REACH, mode=Mode.PRIVATE) & part.part
    # Sketch5 → side plate slots (cut, up to next)
    with BuildSketch(Plane.XY.offset(3), mode=Mode.PRIVATE) as side_plate_slots_sk7:
        with Locations((-98, -45)):
            Rectangle(SKETCH5_W, SKETCH5_H)
    side_plate_slots_tool7 = extrude(side_plate_slots_sk7.sketch, amount=-SIDE_PLATE_SLOTS_REACH, mode=Mode.PRIVATE) & part.part
    # Sketch5 → side plate slots (cut, up to next)
    with BuildSketch(Plane.XY.offset(3), mode=Mode.PRIVATE) as side_plate_slots_sk8:
        with Locations((-98, 45)):
            Rectangle(SKETCH5_W, SKETCH5_H)
    side_plate_slots_tool8 = extrude(side_plate_slots_sk8.sketch, amount=-SIDE_PLATE_SLOTS_REACH, mode=Mode.PRIVATE) & part.part
    add(side_plate_slots_tool1.solids().sort_by_distance((52.69, 85, 3))[0], mode=Mode.SUBTRACT)
    add(side_plate_slots_tool2.solids().sort_by_distance((52.69, -85, 3))[0], mode=Mode.SUBTRACT)
    add(side_plate_slots_tool3.solids().sort_by_distance((-52.69, 85, 3))[0], mode=Mode.SUBTRACT)
    add(side_plate_slots_tool4.solids().sort_by_distance((-52.69, -85, 3))[0], mode=Mode.SUBTRACT)
    add(side_plate_slots_tool5.solids().sort_by_distance((98, 45, 3))[0], mode=Mode.SUBTRACT)
    add(side_plate_slots_tool6.solids().sort_by_distance((98, -45, 3))[0], mode=Mode.SUBTRACT)
    add(side_plate_slots_tool7.solids().sort_by_distance((-98, -45, 3))[0], mode=Mode.SUBTRACT)
    add(side_plate_slots_tool8.solids().sort_by_distance((-98, 45, 3))[0], mode=Mode.SUBTRACT)

    # Sketch3 → linkage clearance (cut, up to next)
    with BuildSketch(Plane.XY.offset(3), mode=Mode.PRIVATE) as linkage_clearance_sk1:
        with BuildLine():
            Line((-6, -94.913476789), (-6, -42.110007057))
            ThreePointArc((-6, -42.110007057), (0, -36.110007057), (6, -42.110007057))
            Line((6, -42.110007057), (6, -94.913476789))
            ThreePointArc((6, -94.913476789), (0, -100.913476789), (-6, -94.913476789))
        make_face()
    linkage_clearance_tool1 = extrude(linkage_clearance_sk1.sketch, amount=-LINKAGE_CLEARANCE_REACH, mode=Mode.PRIVATE) & part.part
    # Sketch3 → linkage clearance (cut, up to next)
    with BuildSketch(Plane.XY.offset(3), mode=Mode.PRIVATE) as linkage_clearance_sk2:
        with BuildLine():
            Line((-6, 94.913476789), (-6, 42.110007057))
            ThreePointArc((-6, 42.110007057), (0, 36.110007057), (6, 42.110007057))
            Line((6, 42.110007057), (6, 94.913476789))
            ThreePointArc((6, 94.913476789), (0, 100.913476789), (-6, 94.913476789))
        make_face()
    linkage_clearance_tool2 = extrude(linkage_clearance_sk2.sketch, amount=-LINKAGE_CLEARANCE_REACH, mode=Mode.PRIVATE) & part.part
    # Sketch3 → linkage clearance (cut, up to next)
    with BuildSketch(Plane.XY.offset(3), mode=Mode.PRIVATE) as linkage_clearance_sk3:
        with BuildLine():
            Line((10, 7.5), (10, -7.5))
            ThreePointArc((10, -7.5), (0, -17.5), (-10, -7.5))
            Line((-10, -7.5), (-10, 7.5))
            ThreePointArc((-10, 7.5), (0, 17.5), (10, 7.5))
        make_face()
    linkage_clearance_tool3 = extrude(linkage_clearance_sk3.sketch, amount=-LINKAGE_CLEARANCE_REACH, mode=Mode.PRIVATE) & part.part
    add(linkage_clearance_tool1.solids().sort_by_distance((0, -68.511742, 3))[0], mode=Mode.SUBTRACT)
    add(linkage_clearance_tool2.solids().sort_by_distance((0, 68.511742, 3))[0], mode=Mode.SUBTRACT)
    add(linkage_clearance_tool3.solids().sort_by_distance((0, 0, 3))[0], mode=Mode.SUBTRACT)


solid = part.part
